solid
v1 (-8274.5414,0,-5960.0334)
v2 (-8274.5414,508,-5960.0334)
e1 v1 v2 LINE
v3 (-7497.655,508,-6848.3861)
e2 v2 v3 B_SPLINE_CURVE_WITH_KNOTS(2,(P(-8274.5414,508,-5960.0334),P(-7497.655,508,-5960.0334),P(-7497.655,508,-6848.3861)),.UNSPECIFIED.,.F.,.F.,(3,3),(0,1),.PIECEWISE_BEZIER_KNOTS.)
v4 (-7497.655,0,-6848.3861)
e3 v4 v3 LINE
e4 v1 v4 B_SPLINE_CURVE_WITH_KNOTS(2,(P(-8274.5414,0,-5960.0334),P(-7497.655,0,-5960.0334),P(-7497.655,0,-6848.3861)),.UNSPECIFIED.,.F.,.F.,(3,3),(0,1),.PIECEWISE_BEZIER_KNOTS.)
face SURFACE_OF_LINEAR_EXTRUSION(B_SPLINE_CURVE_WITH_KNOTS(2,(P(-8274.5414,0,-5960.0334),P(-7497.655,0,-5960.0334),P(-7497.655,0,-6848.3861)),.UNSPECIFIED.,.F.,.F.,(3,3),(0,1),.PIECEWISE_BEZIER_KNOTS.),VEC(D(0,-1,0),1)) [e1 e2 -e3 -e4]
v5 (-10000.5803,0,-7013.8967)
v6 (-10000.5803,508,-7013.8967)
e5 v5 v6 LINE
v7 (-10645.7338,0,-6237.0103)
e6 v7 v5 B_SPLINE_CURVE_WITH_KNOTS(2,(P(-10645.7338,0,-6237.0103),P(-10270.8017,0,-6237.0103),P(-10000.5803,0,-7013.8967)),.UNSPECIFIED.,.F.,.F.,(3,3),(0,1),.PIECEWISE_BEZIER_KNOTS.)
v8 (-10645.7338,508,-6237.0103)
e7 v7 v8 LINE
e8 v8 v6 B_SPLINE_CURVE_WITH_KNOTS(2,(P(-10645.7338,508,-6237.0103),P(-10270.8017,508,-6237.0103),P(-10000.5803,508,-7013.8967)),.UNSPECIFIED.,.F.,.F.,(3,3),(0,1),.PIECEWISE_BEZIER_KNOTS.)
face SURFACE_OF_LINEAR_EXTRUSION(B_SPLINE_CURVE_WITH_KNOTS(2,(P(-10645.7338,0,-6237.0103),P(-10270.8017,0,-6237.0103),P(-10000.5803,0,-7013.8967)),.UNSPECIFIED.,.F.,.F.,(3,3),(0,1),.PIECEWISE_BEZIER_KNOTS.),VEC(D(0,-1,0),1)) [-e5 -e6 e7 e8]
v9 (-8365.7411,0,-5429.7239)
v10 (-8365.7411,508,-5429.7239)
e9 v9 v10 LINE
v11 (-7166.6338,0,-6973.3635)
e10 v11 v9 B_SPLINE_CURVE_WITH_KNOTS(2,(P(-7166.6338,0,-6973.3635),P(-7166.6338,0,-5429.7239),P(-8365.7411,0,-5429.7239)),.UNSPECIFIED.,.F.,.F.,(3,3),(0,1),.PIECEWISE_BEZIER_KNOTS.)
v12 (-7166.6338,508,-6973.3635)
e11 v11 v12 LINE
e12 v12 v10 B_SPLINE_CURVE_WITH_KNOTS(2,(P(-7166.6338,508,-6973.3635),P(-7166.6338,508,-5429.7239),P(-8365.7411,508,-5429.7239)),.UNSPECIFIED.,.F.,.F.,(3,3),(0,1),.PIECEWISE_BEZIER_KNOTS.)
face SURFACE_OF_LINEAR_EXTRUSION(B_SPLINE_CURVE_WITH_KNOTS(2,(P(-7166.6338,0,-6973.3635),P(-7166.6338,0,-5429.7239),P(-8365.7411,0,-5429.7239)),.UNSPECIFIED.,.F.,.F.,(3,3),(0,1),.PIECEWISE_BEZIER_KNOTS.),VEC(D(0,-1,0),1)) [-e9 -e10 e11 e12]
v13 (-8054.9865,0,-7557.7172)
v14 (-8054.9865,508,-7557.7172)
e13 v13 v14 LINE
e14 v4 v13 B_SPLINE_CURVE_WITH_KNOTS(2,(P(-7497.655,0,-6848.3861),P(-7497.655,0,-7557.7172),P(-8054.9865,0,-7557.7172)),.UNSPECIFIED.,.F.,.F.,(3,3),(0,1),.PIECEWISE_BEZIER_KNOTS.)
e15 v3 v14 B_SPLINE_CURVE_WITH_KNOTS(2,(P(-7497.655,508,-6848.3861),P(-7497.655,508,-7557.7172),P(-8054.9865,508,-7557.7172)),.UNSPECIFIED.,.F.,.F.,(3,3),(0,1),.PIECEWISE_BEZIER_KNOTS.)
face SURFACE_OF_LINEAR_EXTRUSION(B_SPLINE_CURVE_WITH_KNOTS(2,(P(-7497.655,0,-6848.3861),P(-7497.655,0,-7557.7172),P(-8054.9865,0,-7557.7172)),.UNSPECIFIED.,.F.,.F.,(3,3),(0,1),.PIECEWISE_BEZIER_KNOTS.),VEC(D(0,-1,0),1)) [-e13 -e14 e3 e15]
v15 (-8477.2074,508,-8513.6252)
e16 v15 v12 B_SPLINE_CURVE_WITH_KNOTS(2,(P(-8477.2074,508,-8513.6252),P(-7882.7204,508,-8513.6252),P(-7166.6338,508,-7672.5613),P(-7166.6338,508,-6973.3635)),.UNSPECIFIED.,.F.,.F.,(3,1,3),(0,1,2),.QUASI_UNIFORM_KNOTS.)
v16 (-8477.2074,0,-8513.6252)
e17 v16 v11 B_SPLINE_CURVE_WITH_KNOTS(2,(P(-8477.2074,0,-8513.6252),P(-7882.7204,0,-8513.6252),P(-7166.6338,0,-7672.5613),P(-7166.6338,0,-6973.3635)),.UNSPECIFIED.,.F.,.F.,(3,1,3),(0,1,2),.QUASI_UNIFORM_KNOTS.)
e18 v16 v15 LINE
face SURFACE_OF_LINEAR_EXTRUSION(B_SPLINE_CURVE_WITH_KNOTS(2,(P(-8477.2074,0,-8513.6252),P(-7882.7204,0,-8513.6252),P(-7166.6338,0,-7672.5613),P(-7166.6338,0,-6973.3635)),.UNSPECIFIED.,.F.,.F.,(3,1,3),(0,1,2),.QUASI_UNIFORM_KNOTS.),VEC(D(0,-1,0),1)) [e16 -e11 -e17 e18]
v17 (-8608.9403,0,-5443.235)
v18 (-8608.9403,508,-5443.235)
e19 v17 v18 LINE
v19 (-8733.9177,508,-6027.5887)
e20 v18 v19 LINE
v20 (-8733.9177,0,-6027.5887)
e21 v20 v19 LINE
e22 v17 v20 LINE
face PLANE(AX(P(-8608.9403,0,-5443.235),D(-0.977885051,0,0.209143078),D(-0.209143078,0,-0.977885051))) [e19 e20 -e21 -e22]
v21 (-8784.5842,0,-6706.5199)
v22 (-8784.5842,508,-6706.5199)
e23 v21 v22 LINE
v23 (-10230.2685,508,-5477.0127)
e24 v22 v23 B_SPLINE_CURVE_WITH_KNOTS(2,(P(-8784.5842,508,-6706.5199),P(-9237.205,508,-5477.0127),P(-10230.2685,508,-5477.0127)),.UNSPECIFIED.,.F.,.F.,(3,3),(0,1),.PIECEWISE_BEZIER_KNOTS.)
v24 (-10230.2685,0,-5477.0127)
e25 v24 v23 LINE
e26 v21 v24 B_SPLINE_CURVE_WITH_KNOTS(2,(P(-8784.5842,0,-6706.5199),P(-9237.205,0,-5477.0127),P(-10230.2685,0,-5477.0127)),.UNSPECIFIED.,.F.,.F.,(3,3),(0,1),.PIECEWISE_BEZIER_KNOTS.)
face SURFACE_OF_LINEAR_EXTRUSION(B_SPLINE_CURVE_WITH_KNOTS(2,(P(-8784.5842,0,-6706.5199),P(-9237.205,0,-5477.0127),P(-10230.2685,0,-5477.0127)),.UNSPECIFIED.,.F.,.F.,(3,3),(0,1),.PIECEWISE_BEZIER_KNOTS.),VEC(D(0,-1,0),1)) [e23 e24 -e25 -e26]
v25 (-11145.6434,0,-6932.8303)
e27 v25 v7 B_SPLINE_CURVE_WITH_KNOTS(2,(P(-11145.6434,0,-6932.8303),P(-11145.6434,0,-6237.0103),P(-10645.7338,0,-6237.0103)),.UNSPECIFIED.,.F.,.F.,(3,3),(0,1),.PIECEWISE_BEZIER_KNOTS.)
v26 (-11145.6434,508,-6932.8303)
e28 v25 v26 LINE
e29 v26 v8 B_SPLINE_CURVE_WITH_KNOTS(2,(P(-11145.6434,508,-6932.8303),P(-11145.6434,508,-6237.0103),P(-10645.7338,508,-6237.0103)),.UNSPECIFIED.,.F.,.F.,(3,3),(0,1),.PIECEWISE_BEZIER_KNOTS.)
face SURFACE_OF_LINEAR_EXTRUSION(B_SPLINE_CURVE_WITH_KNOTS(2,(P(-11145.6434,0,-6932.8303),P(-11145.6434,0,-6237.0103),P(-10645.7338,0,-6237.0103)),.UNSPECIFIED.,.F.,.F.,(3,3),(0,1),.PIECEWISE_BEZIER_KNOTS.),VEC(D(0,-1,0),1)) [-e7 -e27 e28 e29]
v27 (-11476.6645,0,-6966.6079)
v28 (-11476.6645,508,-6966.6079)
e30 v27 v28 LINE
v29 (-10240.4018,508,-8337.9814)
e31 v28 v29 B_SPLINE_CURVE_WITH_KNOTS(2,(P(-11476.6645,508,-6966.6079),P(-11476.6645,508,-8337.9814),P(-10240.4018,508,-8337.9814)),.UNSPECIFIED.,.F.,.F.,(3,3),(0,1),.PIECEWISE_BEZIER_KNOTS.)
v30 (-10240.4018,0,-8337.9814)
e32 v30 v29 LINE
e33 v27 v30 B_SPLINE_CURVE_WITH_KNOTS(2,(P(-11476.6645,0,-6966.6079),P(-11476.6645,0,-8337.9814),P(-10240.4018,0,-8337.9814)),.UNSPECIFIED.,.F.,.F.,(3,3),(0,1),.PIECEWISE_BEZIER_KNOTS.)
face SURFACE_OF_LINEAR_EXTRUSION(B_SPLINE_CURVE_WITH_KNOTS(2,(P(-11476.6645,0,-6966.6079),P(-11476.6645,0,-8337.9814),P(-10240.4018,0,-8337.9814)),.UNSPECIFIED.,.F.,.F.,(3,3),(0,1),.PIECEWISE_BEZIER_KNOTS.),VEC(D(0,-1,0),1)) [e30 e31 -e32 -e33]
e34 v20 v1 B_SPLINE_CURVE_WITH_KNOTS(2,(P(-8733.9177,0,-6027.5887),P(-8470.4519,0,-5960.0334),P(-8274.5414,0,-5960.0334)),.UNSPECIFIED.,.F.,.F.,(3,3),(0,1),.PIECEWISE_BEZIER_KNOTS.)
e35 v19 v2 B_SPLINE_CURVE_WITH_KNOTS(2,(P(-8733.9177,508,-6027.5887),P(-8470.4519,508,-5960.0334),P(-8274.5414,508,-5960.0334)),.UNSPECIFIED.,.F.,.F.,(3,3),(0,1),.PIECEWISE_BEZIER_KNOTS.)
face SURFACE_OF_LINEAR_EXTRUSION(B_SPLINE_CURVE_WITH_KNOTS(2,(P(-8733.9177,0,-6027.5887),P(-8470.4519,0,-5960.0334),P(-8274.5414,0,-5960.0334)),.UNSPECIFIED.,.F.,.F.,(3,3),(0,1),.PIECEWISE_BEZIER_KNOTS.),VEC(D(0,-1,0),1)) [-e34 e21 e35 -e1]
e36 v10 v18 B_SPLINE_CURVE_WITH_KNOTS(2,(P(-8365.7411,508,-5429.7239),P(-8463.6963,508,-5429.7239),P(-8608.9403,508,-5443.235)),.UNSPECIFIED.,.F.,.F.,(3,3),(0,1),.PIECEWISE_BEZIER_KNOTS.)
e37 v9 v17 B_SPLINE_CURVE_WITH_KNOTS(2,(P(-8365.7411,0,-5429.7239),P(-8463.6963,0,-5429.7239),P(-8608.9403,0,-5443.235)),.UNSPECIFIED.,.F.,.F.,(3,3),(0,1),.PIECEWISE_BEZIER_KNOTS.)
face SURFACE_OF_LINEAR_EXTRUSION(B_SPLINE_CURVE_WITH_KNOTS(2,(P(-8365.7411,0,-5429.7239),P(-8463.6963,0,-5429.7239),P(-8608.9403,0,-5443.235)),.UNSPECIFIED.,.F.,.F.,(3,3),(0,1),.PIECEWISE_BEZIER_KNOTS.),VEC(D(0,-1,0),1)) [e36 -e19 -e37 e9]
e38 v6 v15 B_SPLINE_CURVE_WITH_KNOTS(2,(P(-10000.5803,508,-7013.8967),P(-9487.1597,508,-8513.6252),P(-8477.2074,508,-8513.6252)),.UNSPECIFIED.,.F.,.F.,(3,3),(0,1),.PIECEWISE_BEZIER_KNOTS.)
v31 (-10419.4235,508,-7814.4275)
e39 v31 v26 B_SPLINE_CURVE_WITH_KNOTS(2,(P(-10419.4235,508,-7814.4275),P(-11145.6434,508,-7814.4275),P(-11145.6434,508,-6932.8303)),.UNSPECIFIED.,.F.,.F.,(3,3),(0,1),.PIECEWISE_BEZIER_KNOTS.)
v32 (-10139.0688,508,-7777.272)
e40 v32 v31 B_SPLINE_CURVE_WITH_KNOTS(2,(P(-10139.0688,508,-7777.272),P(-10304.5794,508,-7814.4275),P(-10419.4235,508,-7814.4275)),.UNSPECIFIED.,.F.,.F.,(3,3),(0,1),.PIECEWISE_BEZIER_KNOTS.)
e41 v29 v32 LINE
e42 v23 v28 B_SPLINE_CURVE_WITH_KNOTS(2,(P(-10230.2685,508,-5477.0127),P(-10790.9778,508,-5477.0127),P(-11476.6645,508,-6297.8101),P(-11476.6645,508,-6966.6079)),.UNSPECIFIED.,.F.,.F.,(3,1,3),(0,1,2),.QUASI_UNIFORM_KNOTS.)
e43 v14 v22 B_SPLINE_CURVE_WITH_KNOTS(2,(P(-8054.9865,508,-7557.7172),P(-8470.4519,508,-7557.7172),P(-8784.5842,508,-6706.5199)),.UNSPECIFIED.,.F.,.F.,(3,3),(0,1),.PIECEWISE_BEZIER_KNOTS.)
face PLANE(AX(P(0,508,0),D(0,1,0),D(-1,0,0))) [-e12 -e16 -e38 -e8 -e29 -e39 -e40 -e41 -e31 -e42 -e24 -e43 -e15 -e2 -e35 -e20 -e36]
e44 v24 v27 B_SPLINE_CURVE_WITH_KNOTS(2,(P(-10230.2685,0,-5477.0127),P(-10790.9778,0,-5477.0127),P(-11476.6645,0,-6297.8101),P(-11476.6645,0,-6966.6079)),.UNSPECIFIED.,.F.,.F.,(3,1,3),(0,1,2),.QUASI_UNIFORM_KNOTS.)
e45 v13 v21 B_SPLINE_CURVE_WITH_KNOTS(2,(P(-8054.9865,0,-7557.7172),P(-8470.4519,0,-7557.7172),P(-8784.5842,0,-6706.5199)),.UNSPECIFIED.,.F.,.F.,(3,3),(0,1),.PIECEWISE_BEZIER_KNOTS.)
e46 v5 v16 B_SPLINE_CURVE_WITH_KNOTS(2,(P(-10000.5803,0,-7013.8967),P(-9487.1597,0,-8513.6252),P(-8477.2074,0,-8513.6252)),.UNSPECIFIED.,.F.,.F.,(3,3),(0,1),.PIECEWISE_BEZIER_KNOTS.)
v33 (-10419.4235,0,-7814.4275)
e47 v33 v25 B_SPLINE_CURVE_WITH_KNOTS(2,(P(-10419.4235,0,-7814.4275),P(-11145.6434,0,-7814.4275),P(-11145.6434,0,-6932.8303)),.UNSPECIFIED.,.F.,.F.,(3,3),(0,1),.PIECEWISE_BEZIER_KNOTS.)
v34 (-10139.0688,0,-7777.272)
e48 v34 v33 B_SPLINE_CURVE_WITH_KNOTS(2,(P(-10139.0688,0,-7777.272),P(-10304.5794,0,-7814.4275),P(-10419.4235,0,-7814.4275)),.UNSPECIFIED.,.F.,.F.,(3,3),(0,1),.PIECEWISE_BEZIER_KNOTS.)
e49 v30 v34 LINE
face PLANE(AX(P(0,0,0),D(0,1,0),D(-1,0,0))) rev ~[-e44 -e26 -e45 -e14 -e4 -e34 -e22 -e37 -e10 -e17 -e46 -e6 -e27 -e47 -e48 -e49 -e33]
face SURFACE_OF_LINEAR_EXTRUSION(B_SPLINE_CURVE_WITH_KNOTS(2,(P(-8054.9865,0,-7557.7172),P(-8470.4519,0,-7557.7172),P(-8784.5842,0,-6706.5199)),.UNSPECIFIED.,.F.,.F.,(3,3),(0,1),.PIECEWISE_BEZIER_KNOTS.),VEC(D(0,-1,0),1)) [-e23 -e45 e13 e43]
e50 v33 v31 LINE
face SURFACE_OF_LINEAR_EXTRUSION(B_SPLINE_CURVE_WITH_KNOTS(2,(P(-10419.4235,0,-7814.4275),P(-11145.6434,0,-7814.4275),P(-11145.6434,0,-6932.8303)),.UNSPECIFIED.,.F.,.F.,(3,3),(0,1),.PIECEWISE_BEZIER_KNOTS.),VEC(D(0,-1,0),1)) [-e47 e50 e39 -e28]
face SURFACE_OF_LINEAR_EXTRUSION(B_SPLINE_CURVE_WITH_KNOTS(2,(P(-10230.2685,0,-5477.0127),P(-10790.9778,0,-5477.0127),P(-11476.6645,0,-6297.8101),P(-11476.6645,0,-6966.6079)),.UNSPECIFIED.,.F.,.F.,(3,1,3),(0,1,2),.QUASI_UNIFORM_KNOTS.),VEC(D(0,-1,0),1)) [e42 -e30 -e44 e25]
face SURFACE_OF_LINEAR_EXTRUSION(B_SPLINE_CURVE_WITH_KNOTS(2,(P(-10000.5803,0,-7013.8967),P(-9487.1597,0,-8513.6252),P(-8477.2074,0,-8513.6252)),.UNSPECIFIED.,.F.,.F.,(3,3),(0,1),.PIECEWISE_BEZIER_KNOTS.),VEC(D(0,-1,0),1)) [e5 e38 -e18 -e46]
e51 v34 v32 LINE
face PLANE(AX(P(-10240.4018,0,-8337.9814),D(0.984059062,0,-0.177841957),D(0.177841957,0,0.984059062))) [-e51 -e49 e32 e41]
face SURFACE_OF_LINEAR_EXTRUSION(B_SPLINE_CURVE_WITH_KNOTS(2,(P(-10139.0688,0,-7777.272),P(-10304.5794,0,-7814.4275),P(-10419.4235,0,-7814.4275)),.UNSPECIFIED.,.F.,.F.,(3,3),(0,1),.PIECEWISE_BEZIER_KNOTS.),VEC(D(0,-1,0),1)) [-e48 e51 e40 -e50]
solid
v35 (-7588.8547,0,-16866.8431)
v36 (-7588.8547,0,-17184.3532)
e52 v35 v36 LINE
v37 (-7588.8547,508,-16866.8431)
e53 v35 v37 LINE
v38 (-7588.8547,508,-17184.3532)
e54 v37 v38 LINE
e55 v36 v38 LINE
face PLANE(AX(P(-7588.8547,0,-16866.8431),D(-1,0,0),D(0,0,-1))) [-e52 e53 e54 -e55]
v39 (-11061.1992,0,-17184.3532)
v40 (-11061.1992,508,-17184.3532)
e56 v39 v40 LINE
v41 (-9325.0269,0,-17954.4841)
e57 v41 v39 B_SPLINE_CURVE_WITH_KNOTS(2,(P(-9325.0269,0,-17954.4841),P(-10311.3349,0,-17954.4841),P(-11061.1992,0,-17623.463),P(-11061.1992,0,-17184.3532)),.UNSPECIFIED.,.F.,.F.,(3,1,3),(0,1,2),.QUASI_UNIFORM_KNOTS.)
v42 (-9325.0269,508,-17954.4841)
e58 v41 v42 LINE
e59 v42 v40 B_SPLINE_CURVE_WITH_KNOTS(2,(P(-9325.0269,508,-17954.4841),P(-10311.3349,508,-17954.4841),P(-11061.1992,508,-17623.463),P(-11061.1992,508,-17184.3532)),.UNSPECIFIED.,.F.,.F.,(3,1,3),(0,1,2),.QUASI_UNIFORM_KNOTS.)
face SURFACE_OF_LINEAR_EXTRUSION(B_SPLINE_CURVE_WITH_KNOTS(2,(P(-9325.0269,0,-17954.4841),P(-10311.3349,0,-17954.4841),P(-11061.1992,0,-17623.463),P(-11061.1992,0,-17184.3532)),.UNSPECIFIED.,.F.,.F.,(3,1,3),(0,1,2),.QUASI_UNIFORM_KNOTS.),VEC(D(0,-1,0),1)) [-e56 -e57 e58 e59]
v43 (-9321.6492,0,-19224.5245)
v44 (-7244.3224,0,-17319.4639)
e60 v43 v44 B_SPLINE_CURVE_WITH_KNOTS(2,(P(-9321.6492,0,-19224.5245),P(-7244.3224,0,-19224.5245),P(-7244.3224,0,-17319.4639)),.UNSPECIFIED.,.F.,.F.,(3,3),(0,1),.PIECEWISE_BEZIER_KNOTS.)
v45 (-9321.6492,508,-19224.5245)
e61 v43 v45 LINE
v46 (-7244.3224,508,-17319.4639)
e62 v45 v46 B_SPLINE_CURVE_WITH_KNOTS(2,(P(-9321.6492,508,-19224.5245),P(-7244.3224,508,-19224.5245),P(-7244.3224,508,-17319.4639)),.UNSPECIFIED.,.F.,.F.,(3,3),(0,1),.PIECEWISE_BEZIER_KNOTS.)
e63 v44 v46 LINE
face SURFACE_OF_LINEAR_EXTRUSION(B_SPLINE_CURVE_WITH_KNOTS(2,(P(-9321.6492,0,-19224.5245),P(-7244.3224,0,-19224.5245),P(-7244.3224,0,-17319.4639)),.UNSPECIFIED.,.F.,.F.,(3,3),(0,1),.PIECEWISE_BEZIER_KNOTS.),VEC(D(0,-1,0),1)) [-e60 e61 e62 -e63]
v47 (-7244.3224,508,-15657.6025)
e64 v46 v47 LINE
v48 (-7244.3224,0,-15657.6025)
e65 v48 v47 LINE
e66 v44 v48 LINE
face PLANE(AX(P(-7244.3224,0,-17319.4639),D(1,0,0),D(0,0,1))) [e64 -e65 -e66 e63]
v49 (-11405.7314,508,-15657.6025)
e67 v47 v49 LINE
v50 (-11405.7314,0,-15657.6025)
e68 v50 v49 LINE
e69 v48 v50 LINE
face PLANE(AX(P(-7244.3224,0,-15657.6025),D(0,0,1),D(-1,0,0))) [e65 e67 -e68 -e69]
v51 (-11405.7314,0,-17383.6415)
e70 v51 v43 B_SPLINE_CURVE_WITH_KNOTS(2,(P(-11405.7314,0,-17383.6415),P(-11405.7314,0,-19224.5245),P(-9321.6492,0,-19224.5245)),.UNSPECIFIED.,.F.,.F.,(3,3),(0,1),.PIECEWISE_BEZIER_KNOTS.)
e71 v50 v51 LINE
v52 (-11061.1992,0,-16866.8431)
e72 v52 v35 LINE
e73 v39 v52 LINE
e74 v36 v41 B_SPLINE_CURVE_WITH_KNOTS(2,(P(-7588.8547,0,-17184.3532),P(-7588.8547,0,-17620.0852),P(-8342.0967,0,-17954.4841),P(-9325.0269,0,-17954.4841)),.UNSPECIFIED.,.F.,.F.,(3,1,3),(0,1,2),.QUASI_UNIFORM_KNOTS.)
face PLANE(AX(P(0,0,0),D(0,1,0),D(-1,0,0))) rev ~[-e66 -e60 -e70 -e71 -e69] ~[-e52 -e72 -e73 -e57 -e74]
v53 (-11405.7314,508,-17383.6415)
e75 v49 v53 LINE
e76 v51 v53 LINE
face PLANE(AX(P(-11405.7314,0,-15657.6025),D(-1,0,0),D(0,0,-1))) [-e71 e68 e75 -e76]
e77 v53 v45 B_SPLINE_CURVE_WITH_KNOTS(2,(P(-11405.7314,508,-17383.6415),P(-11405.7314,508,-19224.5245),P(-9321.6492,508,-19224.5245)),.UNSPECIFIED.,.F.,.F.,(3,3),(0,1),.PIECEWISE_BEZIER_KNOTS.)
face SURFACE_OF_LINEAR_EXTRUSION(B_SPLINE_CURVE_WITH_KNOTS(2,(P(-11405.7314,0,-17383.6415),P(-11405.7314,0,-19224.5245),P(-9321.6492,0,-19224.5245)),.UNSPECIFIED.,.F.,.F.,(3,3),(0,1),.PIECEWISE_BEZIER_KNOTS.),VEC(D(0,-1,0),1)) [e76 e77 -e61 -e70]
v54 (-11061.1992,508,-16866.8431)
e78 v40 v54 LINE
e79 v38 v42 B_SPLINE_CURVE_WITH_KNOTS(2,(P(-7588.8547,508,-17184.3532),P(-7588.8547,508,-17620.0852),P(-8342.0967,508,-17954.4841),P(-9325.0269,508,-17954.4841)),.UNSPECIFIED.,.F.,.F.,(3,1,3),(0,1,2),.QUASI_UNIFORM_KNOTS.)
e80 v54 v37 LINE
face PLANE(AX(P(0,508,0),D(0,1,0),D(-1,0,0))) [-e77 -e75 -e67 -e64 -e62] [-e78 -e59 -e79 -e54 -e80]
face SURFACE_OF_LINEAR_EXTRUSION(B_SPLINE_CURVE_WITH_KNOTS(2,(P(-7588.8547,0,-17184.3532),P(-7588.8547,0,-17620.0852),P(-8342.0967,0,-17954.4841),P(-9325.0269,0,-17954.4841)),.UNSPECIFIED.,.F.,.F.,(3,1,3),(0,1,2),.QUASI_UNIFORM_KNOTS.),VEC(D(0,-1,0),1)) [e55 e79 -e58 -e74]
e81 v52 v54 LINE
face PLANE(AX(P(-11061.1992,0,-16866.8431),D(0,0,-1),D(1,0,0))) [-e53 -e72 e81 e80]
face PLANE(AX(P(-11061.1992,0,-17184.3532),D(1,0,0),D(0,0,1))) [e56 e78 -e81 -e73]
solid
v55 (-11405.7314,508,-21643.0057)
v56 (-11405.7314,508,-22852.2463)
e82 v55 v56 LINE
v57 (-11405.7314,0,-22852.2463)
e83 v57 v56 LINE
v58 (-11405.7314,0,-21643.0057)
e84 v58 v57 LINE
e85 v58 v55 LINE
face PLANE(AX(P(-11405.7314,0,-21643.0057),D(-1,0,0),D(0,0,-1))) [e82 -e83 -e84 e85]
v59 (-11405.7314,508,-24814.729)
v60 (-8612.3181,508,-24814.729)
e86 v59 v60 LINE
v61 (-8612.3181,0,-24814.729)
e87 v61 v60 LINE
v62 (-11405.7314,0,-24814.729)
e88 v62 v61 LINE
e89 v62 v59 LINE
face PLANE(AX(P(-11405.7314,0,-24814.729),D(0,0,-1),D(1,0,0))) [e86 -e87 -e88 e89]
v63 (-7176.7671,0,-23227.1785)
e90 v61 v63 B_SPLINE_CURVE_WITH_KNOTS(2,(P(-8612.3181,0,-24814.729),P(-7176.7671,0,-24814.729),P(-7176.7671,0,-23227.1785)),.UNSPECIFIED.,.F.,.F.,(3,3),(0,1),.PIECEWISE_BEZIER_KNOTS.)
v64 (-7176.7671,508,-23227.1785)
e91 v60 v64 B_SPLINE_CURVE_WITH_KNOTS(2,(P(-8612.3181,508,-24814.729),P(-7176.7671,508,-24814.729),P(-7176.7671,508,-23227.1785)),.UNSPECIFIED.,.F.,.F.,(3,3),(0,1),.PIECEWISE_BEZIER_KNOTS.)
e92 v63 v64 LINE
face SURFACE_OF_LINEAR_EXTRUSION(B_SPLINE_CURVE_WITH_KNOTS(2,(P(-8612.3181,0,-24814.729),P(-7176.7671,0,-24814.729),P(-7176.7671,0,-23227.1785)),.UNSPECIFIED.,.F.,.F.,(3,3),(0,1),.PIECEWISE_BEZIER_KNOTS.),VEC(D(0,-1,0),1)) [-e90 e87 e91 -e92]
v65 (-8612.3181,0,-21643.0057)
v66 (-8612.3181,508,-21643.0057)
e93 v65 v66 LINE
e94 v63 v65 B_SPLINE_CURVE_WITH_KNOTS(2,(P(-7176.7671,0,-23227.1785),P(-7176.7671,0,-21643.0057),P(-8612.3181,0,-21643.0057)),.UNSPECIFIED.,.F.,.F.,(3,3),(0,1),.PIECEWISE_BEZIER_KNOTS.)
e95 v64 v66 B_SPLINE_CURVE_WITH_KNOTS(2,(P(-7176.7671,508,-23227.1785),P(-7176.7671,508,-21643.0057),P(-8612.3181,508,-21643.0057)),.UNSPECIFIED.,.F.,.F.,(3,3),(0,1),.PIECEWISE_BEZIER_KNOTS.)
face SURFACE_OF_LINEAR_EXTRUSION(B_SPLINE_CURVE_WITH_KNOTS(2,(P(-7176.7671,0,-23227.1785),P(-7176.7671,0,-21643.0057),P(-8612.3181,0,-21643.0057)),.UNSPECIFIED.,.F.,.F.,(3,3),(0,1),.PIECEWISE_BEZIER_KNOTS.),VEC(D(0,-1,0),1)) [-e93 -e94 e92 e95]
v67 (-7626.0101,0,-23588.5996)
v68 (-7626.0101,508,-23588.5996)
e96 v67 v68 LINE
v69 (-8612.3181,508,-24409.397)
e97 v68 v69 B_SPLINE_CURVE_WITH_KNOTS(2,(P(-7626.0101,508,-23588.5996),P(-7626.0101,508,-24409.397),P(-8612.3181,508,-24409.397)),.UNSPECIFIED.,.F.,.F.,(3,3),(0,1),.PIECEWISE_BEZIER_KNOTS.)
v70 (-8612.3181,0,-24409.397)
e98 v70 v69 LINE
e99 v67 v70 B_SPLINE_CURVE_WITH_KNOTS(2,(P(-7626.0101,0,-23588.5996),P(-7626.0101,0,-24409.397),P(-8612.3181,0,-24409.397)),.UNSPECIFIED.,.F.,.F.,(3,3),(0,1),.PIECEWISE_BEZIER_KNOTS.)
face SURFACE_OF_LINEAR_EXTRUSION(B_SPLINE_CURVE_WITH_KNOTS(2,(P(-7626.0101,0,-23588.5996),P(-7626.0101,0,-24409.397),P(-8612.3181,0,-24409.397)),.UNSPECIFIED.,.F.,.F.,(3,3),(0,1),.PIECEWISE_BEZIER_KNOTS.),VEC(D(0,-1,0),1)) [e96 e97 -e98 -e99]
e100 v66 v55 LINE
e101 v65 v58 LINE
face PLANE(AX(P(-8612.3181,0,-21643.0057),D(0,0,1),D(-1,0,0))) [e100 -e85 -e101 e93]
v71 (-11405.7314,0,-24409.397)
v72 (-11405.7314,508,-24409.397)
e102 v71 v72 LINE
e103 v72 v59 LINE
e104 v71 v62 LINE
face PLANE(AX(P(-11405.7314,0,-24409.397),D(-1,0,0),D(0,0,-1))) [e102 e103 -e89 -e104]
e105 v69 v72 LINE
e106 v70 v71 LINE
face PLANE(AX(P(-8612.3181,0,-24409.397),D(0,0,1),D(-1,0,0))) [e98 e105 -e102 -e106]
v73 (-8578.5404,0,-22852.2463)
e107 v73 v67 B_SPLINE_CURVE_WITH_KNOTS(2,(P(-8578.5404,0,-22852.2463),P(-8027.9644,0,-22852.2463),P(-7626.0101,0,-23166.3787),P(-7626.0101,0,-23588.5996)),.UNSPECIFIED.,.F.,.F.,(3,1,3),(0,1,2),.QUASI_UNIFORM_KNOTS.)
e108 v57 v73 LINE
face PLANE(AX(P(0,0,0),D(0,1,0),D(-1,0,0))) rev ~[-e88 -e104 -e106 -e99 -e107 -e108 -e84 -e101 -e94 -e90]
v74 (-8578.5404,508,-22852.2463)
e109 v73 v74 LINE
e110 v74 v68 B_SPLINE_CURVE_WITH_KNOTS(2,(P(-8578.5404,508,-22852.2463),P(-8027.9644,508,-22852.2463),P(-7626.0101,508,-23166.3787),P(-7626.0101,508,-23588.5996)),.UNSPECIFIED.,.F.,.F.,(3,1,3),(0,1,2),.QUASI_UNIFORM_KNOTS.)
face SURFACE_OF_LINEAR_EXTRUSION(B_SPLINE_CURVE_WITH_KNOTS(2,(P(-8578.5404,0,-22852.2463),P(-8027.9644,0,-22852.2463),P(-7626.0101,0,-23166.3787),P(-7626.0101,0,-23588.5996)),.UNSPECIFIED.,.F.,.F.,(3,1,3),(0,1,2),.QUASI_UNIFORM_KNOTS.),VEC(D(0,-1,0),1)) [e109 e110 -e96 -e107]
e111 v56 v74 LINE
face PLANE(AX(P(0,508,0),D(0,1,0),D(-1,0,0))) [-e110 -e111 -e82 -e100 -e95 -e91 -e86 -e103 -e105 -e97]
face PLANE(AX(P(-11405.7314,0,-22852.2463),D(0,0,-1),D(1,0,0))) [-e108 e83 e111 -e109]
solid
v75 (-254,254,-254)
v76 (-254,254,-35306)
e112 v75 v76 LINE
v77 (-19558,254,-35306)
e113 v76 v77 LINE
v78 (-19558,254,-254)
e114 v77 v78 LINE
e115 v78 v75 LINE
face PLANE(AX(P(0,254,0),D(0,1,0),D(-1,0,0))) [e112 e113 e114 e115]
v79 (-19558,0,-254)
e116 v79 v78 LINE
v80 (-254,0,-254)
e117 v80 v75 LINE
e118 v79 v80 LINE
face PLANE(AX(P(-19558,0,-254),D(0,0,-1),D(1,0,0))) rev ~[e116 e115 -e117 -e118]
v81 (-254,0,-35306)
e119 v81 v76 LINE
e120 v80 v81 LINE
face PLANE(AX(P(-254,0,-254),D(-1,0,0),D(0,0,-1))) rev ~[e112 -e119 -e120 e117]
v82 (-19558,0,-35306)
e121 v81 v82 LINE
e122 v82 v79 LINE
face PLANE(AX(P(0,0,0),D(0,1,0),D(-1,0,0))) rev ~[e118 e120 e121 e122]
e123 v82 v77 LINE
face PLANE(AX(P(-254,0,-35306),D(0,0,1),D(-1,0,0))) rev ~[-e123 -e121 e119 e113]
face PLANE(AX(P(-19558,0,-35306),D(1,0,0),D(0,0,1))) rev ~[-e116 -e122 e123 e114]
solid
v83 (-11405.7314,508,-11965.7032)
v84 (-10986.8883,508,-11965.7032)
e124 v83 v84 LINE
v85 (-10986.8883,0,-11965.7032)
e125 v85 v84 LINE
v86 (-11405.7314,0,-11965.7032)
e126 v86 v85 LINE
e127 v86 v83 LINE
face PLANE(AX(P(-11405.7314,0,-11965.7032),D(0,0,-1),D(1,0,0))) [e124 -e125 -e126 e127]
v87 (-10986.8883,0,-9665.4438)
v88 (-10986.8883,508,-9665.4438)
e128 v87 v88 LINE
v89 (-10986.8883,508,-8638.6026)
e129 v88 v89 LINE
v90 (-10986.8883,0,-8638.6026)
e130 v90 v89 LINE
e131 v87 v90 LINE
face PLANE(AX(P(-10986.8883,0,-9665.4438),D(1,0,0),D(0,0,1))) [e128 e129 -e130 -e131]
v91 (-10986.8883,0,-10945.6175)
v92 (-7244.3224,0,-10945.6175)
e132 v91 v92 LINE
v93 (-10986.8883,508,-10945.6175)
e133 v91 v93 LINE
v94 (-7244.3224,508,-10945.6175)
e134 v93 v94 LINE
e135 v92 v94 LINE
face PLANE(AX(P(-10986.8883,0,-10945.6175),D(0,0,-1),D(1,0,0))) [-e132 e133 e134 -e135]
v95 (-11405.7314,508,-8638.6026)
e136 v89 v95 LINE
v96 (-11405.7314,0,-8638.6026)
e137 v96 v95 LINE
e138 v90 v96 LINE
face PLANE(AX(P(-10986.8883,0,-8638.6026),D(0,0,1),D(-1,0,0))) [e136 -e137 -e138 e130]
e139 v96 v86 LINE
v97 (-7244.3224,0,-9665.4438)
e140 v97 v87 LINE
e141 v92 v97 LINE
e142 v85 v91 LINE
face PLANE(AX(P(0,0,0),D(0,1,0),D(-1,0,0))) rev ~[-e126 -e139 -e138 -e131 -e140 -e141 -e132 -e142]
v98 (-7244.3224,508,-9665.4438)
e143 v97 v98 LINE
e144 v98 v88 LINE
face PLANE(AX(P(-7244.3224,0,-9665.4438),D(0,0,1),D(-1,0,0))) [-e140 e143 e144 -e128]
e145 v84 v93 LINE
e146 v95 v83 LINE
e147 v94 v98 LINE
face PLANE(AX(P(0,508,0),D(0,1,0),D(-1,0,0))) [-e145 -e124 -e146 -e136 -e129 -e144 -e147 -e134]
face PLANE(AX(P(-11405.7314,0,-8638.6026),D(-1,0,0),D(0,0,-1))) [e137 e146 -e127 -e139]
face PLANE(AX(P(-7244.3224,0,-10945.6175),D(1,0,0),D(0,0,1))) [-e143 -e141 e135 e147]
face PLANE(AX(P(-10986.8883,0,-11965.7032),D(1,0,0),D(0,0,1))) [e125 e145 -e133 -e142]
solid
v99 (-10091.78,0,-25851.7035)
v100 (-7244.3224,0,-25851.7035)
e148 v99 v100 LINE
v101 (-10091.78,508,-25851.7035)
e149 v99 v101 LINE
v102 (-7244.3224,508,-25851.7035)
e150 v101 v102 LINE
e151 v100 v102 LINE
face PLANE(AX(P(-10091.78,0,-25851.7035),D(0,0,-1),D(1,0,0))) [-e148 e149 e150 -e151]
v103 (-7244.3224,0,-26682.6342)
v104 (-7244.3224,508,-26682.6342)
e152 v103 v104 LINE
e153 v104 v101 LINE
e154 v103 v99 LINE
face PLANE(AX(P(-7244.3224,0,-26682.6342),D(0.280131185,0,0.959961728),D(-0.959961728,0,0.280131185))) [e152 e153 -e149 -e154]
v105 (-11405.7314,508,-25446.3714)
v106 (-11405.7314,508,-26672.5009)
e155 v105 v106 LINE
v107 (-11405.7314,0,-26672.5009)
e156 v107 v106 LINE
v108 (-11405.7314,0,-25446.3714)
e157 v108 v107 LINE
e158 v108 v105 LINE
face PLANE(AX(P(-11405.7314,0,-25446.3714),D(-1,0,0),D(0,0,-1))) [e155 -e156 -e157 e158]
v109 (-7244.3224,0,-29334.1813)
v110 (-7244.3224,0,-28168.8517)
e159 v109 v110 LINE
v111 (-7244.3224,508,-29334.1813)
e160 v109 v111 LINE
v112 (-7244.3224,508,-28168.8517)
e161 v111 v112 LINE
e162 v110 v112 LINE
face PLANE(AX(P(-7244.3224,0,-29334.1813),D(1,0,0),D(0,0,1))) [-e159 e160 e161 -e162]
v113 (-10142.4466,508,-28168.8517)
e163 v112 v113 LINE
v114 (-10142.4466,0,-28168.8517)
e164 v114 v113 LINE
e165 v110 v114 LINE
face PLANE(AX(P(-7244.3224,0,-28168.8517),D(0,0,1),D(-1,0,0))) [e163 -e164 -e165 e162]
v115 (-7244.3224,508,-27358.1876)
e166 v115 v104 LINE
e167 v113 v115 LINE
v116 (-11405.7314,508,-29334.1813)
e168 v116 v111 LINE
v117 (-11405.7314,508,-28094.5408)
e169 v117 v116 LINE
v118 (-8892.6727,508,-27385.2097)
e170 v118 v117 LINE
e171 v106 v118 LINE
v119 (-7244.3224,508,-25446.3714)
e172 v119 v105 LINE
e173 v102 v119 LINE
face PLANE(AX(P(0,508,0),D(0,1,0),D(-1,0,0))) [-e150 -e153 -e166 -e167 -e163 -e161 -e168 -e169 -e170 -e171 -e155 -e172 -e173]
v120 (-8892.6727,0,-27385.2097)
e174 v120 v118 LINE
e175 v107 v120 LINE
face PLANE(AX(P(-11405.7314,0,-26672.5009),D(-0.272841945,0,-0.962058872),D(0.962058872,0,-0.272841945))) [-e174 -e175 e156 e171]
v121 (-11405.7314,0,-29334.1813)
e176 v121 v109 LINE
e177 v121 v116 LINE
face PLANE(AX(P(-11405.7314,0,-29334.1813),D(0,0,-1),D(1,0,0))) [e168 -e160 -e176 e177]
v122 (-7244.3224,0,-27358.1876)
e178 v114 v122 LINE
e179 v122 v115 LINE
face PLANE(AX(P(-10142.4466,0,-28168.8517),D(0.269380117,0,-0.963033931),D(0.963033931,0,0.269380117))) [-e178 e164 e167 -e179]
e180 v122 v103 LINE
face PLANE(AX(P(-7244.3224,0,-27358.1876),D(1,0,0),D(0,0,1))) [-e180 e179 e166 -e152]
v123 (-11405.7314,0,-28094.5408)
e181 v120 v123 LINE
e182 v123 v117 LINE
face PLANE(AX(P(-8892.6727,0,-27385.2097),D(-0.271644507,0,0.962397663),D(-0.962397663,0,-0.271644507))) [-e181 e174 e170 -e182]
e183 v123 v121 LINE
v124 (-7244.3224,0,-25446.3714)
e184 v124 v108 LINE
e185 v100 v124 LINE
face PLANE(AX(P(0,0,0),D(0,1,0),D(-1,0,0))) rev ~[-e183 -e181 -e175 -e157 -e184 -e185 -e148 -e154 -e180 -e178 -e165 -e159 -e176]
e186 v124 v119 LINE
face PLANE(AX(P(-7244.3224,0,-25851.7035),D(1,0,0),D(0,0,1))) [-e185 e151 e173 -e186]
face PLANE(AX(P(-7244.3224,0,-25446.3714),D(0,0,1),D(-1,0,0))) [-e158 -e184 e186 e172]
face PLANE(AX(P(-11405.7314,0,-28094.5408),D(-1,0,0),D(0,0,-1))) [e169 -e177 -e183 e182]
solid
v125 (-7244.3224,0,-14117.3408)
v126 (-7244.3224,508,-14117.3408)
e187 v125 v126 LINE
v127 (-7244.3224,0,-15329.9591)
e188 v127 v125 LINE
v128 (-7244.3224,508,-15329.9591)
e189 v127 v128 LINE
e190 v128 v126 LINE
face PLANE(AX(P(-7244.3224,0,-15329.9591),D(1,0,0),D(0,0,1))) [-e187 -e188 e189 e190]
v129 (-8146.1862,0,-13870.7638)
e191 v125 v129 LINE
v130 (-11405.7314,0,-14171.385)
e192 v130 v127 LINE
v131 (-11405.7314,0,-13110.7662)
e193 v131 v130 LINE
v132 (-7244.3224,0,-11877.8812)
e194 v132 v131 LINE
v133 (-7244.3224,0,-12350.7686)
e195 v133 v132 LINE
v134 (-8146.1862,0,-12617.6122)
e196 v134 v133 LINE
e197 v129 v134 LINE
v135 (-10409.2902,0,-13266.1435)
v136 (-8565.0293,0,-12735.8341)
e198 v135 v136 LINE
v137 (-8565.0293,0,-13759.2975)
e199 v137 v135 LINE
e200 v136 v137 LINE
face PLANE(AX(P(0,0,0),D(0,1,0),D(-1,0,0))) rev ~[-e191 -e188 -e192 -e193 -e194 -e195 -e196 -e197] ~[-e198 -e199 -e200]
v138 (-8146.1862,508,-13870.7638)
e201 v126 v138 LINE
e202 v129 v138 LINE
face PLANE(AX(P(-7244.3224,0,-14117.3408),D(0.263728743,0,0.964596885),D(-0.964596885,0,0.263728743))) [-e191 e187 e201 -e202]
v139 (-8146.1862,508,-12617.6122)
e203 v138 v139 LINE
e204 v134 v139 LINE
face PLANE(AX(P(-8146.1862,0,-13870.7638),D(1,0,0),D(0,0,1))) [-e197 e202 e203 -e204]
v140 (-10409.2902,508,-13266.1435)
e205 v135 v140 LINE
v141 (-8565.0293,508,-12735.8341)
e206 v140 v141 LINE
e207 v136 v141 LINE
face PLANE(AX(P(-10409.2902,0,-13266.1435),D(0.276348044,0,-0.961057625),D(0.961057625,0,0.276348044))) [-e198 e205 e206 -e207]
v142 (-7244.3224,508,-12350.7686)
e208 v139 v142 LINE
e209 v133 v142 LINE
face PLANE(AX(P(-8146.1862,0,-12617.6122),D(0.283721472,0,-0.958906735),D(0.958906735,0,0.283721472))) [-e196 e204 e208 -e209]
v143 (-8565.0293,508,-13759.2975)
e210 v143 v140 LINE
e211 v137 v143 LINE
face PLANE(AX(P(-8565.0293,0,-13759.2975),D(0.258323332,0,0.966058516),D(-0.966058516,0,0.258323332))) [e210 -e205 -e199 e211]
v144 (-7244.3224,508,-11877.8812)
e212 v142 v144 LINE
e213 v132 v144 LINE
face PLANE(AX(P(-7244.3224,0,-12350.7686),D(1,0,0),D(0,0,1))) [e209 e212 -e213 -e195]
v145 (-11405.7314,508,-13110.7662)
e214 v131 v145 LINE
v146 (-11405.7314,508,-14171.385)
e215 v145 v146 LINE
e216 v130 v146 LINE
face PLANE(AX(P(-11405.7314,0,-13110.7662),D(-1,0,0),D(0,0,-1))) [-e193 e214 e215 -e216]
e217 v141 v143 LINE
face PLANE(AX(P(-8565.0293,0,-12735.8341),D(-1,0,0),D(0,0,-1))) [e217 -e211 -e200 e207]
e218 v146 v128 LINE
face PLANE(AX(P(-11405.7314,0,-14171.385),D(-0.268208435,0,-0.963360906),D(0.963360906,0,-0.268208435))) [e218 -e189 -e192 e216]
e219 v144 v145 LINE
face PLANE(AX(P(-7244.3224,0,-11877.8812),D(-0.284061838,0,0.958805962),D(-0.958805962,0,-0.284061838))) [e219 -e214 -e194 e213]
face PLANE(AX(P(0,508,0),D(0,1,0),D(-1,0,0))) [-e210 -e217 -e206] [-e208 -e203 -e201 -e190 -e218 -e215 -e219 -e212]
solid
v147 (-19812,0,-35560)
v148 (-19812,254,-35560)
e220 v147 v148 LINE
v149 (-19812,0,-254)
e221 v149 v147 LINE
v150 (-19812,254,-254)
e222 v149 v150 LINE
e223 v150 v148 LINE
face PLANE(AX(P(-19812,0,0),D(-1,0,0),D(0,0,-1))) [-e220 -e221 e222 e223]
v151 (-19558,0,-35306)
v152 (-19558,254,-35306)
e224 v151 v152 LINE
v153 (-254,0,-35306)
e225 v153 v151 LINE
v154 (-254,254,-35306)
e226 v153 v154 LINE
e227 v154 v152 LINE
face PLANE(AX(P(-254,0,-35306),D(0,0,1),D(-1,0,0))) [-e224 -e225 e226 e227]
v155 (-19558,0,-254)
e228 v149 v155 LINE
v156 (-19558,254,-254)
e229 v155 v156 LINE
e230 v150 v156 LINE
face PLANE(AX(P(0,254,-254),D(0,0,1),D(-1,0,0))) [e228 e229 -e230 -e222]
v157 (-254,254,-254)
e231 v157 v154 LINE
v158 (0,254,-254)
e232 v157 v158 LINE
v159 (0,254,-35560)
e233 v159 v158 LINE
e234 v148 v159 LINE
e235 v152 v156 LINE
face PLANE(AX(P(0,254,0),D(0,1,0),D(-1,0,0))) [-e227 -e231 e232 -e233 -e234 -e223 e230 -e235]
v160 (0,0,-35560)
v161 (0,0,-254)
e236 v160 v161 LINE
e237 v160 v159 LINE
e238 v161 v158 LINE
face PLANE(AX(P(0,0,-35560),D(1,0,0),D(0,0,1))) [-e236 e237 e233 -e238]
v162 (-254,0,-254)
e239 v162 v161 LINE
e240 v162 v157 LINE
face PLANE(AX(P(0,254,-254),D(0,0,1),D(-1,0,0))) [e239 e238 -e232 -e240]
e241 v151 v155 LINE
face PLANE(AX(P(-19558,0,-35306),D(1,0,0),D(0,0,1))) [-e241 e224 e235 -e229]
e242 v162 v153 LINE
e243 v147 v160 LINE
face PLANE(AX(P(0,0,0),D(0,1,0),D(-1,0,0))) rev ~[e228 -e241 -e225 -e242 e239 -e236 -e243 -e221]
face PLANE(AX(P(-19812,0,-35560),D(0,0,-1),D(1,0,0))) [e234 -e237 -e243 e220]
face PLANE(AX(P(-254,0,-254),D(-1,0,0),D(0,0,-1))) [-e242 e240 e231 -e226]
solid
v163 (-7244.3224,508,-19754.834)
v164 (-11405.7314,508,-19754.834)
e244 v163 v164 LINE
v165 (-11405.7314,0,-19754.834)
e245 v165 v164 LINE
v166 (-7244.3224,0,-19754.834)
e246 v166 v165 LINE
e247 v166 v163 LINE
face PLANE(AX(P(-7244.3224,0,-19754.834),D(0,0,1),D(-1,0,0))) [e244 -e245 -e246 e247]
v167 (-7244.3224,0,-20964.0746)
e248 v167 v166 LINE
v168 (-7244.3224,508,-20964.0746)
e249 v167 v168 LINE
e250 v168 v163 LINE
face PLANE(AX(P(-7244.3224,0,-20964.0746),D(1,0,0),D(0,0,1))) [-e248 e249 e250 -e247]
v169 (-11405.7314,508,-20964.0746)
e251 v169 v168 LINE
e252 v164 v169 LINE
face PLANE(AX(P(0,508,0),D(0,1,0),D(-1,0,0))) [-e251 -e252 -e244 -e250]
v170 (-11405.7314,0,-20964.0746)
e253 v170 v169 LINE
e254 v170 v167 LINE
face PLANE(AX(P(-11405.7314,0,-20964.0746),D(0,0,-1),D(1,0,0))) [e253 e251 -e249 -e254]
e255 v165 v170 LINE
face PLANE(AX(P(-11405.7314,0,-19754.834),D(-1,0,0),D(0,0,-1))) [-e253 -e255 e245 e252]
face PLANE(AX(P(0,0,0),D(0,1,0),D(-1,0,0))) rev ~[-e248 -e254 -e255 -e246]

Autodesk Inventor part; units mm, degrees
ref_plane "YZ Plane" through (0, 0, 0) normal (1, 0, 0) x (0, 1, 0)
ref_plane "XZ Plane" through (0, 0, 0) normal (0, 1, 0) x (-1, 0, 0)
ref_plane "XY Plane" through (0, 0, 0) normal (0, 0, 1) x (1, 0, 0)
sketch "Sketch1" plane through (0, 0, 0) normal (0, 1, 0) x (-1, 0, 0)
  line L0 (0, 0) -> (19812, 0)
  line L1 (19812, 0) -> (19812, -35560)
  line L2 (19812, -35560) -> (0, -35560)
  line L3 (0, -35560) -> (0, 0)
  line L4 (19558, -35306) -> (19558, -254)
  line L5 (19558, -254) -> (254, -254)
  line L6 (254, -254) -> (254, -35306)
  line L7 (254, -35306) -> (19558, -35306)
  line L8 (11476.6644, -5257.4578) -> (11476.6644, -18725.3039) construction
  line L9 (11476.6644, -18725.3039) -> (-12932.071, -18725.3039) construction
  line L10 (-12932.071, -18725.3039) -> (-12932.071, -5257.4578) construction
  line L11 (-12932.071, -5257.4578) -> (11476.6644, -5257.4578) construction
  line L12 (10240.4018, -8337.9814) -> (10139.0688, -7777.272)
  spline S0 degree 2 poles (10139.0688, -7777.272) (10304.5794, -7814.4275) (10419.4235, -7814.4275) knots 0 0 0 1 1 1
  spline S1 degree 2 poles (10419.4235, -7814.4275) (11145.6434, -7814.4275) (11145.6434, -6932.8303) knots 0 0 0 1 1 1
  spline S2 degree 2 poles (11145.6434, -6932.8303) (11145.6434, -6237.0103) (10645.7338, -6237.0103) knots 0 0 0 1 1 1
  spline S3 degree 2 poles (10645.7338, -6237.0103) (10270.8017, -6237.0103) (10000.5803, -7013.8967) knots 0 0 0 1 1 1
  spline S4 degree 2 poles (10000.5803, -7013.8967) (9487.1597, -8513.6252) (8477.2074, -8513.6252) knots 0 0 0 1 1 1
  spline S5 degree 2 poles (8477.2074, -8513.6252) (7882.7204, -8513.6252) (7166.6338, -7672.5613) (7166.6338, -6973.3635) knots 0 0 0 1 2 2 2
  spline S6 degree 2 poles (7166.6338, -6973.3635) (7166.6338, -5429.7239) (8365.7411, -5429.7239) knots 0 0 0 1 1 1
  spline S7 degree 2 poles (8365.7411, -5429.7239) (8463.6963, -5429.7239) (8608.9403, -5443.235) knots 0 0 0 1 1 1
  line L13 (8608.9403, -5443.235) -> (8733.9177, -6027.5887)
  spline S8 degree 2 poles (8733.9177, -6027.5887) (8470.4519, -5960.0334) (8274.5414, -5960.0334) knots 0 0 0 1 1 1
  spline S9 degree 2 poles (8274.5414, -5960.0334) (7497.655, -5960.0334) (7497.655, -6848.3861) knots 0 0 0 1 1 1
  spline S10 degree 2 poles (7497.655, -6848.3861) (7497.655, -7557.7172) (8054.9865, -7557.7172) knots 0 0 0 1 1 1
  spline S11 degree 2 poles (8054.9865, -7557.7172) (8470.4519, -7557.7172) (8784.5842, -6706.5199) knots 0 0 0 1 1 1
  spline S12 degree 2 poles (8784.5842, -6706.5199) (9237.205, -5477.0127) (10230.2685, -5477.0127) knots 0 0 0 1 1 1
  spline S13 degree 2 poles (10230.2685, -5477.0127) (10790.9778, -5477.0127) (11476.6645, -6297.8101) (11476.6645, -6966.6079) knots 0 0 0 1 2 2 2
  spline S14 degree 2 poles (11476.6645, -6966.6079) (11476.6645, -8337.9814) (10240.4018, -8337.9814) knots 0 0 0 1 1 1
  line L14 (11405.7314, -11965.7032) -> (10986.8883, -11965.7032)
  line L15 (10986.8883, -11965.7032) -> (10986.8883, -10945.6175)
  line L16 (10986.8883, -10945.6175) -> (7244.3224, -10945.6175)
  line L17 (7244.3224, -10945.6175) -> (7244.3224, -9665.4438)
  line L18 (7244.3224, -9665.4438) -> (10986.8883, -9665.4438)
  line L19 (10986.8883, -9665.4438) -> (10986.8883, -8638.6026)
  line L20 (10986.8883, -8638.6026) -> (11405.7314, -8638.6026)
  line L21 (11405.7314, -8638.6026) -> (11405.7314, -11965.7032)
  line L22 (11405.7314, -14171.385) -> (7244.3224, -15329.9591)
  line L23 (7244.3224, -15329.9591) -> (7244.3224, -14117.3408)
  line L24 (7244.3224, -14117.3408) -> (8146.1862, -13870.7638)
  line L25 (8146.1862, -13870.7638) -> (8146.1862, -12617.6122)
  line L26 (8146.1862, -12617.6122) -> (7244.3224, -12350.7686)
  line L27 (7244.3224, -12350.7686) -> (7244.3224, -11877.8812)
  line L28 (7244.3224, -11877.8812) -> (11405.7314, -13110.7662)
  line L29 (11405.7314, -13110.7662) -> (11405.7314, -14171.385)
  line L30 (8565.0293, -12735.8341) -> (8565.0293, -13759.2975)
  line L31 (8565.0293, -13759.2975) -> (10409.2902, -13266.1435)
  line L32 (10409.2902, -13266.1435) -> (8565.0293, -12735.8341)
  line L33 (7244.3224, -15657.6025) -> (11405.7314, -15657.6025)
  line L34 (11405.7314, -15657.6025) -> (11405.7314, -17383.6415)
  spline S15 degree 2 poles (11405.7314, -17383.6415) (11405.7314, -19224.5245) (9321.6492, -19224.5245) knots 0 0 0 1 1 1
  spline S16 degree 2 poles (9321.6492, -19224.5245) (7244.3224, -19224.5245) (7244.3224, -17319.4639) knots 0 0 0 1 1 1
  line L35 (7244.3224, -17319.4639) -> (7244.3224, -15657.6025)
  line L36 (7588.8547, -16866.8431) -> (7588.8547, -17184.3532)
  spline S17 degree 2 poles (7588.8547, -17184.3532) (7588.8547, -17620.0852) (8342.0967, -17954.4841) (9325.0269, -17954.4841) knots 0 0 0 1 2 2 2
  spline S18 degree 2 poles (9325.0269, -17954.4841) (10311.3349, -17954.4841) (11061.1992, -17623.463) (11061.1992, -17184.3532) knots 0 0 0 1 2 2 2
  line L37 (11061.1992, -17184.3532) -> (11061.1992, -16866.8431)
  line L38 (11061.1992, -16866.8431) -> (7588.8547, -16866.8431)
  line L39 (11405.7314, -20964.0746) -> (7244.3224, -20964.0746)
  line L40 (7244.3224, -20964.0746) -> (7244.3224, -19754.834)
  line L41 (7244.3224, -19754.834) -> (11405.7314, -19754.834)
  line L42 (11405.7314, -19754.834) -> (11405.7314, -20964.0746)
  line L43 (11405.7314, -24814.729) -> (8612.3181, -24814.729)
  spline S19 degree 2 poles (8612.3181, -24814.729) (7176.7671, -24814.729) (7176.7671, -23227.1785) knots 0 0 0 1 1 1
  spline S20 degree 2 poles (7176.7671, -23227.1785) (7176.7671, -21643.0057) (8612.3181, -21643.0057) knots 0 0 0 1 1 1
  line L44 (8612.3181, -21643.0057) -> (11405.7314, -21643.0057)
  line L45 (11405.7314, -21643.0057) -> (11405.7314, -22852.2463)
  line L46 (11405.7314, -22852.2463) -> (8578.5404, -22852.2463)
  spline S21 degree 2 poles (8578.5404, -22852.2463) (8027.9644, -22852.2463) (7626.0101, -23166.3787) (7626.0101, -23588.5996) knots 0 0 0 1 2 2 2
  spline S22 degree 2 poles (7626.0101, -23588.5996) (7626.0101, -24409.397) (8612.3181, -24409.397) knots 0 0 0 1 1 1
  line L47 (8612.3181, -24409.397) -> (11405.7314, -24409.397)
  line L48 (11405.7314, -24409.397) -> (11405.7314, -24814.729)
  line L49 (11405.7314, -29334.1813) -> (7244.3224, -29334.1813)
  line L50 (7244.3224, -29334.1813) -> (7244.3224, -28168.8517)
  line L51 (7244.3224, -28168.8517) -> (10142.4466, -28168.8517)
  line L52 (10142.4466, -28168.8517) -> (7244.3224, -27358.1876)
  line L53 (7244.3224, -27358.1876) -> (7244.3224, -26682.6342)
  line L54 (7244.3224, -26682.6342) -> (10091.78, -25851.7035)
  line L55 (10091.78, -25851.7035) -> (7244.3224, -25851.7035)
  line L56 (7244.3224, -25851.7035) -> (7244.3224, -25446.3714)
  line L57 (7244.3224, -25446.3714) -> (11405.7314, -25446.3714)
  line L58 (11405.7314, -25446.3714) -> (11405.7314, -26672.5009)
  line L59 (11405.7314, -26672.5009) -> (8892.6727, -27385.2097)
  line L60 (8892.6727, -27385.2097) -> (11405.7314, -28094.5408)
  line L61 (11405.7314, -28094.5408) -> (11405.7314, -29334.1813)
extrude "Extrusion1" add sketch "Sketch1" along normal blind 508 contours L12 S0 S1 S2 S3 S4 S5 S6 S7 L13 S8 S9 S10 S11 S12 S13 S14 | L14 L15 L16 L17 L18 L19 L20 L21 | L22 L23 L24 L25 L26 L27 L28 L29 | L33 L34 S15 S16 L35 | L39 L40 L41 L42 | L43 S19 S20 L44 L45 L46 S21 S22 L47 L48 | L49 L50 L51 L52 L53 L54 L55 L56 L57 L58 L59 L60 L61
extrude "Extrusion2" add sketch "Sketch1" along normal blind 254 separate body contours L7 L6 L5 L4 | L12 S0 S1 S2 S3 S4 S5 S6 S7 L13 S8 S9 S10 S11 S12 S13 S14 | L14 L15 L16 L17 L18 L19 L20 L21 | L22 L23 L24 L25 L26 L27 L28 L29 | L32 L31 L30 | L33 L34 S15 S16 L35 | L38 L37 S18 S17 L36 | L39 L40 L41 L42 | L43 S19 S20 L44 L45 L46 S21 S22 L47 L48 | L49 L50 L51 L52 L53 L54 L55 L56 L57 L58 L59 L60 L61
extrude "Extrusion3" add sketch "Sketch1" along normal blind 254 separate body contours L0 L1 L2 L3
sketch "Sketch2" plane through (0, 254, 0) normal (0, 1, 0) x (1, 0, 0)
  line L0 (0, 254) -> (-34633.9567, 254)
  line L1 (-34633.9567, 254) -> (-34633.9567, -21754.7824)
  line L2 (-34633.9567, -21754.7824) -> (0, -21754.7824)
  line L3 (0, -21754.7824) -> (0, 254)
  point P0 (0, 0)
extrude "Extrusion4" cut sketch "Sketch2" along normal mid plane 762 bodies 3
properties part number "banner2"
